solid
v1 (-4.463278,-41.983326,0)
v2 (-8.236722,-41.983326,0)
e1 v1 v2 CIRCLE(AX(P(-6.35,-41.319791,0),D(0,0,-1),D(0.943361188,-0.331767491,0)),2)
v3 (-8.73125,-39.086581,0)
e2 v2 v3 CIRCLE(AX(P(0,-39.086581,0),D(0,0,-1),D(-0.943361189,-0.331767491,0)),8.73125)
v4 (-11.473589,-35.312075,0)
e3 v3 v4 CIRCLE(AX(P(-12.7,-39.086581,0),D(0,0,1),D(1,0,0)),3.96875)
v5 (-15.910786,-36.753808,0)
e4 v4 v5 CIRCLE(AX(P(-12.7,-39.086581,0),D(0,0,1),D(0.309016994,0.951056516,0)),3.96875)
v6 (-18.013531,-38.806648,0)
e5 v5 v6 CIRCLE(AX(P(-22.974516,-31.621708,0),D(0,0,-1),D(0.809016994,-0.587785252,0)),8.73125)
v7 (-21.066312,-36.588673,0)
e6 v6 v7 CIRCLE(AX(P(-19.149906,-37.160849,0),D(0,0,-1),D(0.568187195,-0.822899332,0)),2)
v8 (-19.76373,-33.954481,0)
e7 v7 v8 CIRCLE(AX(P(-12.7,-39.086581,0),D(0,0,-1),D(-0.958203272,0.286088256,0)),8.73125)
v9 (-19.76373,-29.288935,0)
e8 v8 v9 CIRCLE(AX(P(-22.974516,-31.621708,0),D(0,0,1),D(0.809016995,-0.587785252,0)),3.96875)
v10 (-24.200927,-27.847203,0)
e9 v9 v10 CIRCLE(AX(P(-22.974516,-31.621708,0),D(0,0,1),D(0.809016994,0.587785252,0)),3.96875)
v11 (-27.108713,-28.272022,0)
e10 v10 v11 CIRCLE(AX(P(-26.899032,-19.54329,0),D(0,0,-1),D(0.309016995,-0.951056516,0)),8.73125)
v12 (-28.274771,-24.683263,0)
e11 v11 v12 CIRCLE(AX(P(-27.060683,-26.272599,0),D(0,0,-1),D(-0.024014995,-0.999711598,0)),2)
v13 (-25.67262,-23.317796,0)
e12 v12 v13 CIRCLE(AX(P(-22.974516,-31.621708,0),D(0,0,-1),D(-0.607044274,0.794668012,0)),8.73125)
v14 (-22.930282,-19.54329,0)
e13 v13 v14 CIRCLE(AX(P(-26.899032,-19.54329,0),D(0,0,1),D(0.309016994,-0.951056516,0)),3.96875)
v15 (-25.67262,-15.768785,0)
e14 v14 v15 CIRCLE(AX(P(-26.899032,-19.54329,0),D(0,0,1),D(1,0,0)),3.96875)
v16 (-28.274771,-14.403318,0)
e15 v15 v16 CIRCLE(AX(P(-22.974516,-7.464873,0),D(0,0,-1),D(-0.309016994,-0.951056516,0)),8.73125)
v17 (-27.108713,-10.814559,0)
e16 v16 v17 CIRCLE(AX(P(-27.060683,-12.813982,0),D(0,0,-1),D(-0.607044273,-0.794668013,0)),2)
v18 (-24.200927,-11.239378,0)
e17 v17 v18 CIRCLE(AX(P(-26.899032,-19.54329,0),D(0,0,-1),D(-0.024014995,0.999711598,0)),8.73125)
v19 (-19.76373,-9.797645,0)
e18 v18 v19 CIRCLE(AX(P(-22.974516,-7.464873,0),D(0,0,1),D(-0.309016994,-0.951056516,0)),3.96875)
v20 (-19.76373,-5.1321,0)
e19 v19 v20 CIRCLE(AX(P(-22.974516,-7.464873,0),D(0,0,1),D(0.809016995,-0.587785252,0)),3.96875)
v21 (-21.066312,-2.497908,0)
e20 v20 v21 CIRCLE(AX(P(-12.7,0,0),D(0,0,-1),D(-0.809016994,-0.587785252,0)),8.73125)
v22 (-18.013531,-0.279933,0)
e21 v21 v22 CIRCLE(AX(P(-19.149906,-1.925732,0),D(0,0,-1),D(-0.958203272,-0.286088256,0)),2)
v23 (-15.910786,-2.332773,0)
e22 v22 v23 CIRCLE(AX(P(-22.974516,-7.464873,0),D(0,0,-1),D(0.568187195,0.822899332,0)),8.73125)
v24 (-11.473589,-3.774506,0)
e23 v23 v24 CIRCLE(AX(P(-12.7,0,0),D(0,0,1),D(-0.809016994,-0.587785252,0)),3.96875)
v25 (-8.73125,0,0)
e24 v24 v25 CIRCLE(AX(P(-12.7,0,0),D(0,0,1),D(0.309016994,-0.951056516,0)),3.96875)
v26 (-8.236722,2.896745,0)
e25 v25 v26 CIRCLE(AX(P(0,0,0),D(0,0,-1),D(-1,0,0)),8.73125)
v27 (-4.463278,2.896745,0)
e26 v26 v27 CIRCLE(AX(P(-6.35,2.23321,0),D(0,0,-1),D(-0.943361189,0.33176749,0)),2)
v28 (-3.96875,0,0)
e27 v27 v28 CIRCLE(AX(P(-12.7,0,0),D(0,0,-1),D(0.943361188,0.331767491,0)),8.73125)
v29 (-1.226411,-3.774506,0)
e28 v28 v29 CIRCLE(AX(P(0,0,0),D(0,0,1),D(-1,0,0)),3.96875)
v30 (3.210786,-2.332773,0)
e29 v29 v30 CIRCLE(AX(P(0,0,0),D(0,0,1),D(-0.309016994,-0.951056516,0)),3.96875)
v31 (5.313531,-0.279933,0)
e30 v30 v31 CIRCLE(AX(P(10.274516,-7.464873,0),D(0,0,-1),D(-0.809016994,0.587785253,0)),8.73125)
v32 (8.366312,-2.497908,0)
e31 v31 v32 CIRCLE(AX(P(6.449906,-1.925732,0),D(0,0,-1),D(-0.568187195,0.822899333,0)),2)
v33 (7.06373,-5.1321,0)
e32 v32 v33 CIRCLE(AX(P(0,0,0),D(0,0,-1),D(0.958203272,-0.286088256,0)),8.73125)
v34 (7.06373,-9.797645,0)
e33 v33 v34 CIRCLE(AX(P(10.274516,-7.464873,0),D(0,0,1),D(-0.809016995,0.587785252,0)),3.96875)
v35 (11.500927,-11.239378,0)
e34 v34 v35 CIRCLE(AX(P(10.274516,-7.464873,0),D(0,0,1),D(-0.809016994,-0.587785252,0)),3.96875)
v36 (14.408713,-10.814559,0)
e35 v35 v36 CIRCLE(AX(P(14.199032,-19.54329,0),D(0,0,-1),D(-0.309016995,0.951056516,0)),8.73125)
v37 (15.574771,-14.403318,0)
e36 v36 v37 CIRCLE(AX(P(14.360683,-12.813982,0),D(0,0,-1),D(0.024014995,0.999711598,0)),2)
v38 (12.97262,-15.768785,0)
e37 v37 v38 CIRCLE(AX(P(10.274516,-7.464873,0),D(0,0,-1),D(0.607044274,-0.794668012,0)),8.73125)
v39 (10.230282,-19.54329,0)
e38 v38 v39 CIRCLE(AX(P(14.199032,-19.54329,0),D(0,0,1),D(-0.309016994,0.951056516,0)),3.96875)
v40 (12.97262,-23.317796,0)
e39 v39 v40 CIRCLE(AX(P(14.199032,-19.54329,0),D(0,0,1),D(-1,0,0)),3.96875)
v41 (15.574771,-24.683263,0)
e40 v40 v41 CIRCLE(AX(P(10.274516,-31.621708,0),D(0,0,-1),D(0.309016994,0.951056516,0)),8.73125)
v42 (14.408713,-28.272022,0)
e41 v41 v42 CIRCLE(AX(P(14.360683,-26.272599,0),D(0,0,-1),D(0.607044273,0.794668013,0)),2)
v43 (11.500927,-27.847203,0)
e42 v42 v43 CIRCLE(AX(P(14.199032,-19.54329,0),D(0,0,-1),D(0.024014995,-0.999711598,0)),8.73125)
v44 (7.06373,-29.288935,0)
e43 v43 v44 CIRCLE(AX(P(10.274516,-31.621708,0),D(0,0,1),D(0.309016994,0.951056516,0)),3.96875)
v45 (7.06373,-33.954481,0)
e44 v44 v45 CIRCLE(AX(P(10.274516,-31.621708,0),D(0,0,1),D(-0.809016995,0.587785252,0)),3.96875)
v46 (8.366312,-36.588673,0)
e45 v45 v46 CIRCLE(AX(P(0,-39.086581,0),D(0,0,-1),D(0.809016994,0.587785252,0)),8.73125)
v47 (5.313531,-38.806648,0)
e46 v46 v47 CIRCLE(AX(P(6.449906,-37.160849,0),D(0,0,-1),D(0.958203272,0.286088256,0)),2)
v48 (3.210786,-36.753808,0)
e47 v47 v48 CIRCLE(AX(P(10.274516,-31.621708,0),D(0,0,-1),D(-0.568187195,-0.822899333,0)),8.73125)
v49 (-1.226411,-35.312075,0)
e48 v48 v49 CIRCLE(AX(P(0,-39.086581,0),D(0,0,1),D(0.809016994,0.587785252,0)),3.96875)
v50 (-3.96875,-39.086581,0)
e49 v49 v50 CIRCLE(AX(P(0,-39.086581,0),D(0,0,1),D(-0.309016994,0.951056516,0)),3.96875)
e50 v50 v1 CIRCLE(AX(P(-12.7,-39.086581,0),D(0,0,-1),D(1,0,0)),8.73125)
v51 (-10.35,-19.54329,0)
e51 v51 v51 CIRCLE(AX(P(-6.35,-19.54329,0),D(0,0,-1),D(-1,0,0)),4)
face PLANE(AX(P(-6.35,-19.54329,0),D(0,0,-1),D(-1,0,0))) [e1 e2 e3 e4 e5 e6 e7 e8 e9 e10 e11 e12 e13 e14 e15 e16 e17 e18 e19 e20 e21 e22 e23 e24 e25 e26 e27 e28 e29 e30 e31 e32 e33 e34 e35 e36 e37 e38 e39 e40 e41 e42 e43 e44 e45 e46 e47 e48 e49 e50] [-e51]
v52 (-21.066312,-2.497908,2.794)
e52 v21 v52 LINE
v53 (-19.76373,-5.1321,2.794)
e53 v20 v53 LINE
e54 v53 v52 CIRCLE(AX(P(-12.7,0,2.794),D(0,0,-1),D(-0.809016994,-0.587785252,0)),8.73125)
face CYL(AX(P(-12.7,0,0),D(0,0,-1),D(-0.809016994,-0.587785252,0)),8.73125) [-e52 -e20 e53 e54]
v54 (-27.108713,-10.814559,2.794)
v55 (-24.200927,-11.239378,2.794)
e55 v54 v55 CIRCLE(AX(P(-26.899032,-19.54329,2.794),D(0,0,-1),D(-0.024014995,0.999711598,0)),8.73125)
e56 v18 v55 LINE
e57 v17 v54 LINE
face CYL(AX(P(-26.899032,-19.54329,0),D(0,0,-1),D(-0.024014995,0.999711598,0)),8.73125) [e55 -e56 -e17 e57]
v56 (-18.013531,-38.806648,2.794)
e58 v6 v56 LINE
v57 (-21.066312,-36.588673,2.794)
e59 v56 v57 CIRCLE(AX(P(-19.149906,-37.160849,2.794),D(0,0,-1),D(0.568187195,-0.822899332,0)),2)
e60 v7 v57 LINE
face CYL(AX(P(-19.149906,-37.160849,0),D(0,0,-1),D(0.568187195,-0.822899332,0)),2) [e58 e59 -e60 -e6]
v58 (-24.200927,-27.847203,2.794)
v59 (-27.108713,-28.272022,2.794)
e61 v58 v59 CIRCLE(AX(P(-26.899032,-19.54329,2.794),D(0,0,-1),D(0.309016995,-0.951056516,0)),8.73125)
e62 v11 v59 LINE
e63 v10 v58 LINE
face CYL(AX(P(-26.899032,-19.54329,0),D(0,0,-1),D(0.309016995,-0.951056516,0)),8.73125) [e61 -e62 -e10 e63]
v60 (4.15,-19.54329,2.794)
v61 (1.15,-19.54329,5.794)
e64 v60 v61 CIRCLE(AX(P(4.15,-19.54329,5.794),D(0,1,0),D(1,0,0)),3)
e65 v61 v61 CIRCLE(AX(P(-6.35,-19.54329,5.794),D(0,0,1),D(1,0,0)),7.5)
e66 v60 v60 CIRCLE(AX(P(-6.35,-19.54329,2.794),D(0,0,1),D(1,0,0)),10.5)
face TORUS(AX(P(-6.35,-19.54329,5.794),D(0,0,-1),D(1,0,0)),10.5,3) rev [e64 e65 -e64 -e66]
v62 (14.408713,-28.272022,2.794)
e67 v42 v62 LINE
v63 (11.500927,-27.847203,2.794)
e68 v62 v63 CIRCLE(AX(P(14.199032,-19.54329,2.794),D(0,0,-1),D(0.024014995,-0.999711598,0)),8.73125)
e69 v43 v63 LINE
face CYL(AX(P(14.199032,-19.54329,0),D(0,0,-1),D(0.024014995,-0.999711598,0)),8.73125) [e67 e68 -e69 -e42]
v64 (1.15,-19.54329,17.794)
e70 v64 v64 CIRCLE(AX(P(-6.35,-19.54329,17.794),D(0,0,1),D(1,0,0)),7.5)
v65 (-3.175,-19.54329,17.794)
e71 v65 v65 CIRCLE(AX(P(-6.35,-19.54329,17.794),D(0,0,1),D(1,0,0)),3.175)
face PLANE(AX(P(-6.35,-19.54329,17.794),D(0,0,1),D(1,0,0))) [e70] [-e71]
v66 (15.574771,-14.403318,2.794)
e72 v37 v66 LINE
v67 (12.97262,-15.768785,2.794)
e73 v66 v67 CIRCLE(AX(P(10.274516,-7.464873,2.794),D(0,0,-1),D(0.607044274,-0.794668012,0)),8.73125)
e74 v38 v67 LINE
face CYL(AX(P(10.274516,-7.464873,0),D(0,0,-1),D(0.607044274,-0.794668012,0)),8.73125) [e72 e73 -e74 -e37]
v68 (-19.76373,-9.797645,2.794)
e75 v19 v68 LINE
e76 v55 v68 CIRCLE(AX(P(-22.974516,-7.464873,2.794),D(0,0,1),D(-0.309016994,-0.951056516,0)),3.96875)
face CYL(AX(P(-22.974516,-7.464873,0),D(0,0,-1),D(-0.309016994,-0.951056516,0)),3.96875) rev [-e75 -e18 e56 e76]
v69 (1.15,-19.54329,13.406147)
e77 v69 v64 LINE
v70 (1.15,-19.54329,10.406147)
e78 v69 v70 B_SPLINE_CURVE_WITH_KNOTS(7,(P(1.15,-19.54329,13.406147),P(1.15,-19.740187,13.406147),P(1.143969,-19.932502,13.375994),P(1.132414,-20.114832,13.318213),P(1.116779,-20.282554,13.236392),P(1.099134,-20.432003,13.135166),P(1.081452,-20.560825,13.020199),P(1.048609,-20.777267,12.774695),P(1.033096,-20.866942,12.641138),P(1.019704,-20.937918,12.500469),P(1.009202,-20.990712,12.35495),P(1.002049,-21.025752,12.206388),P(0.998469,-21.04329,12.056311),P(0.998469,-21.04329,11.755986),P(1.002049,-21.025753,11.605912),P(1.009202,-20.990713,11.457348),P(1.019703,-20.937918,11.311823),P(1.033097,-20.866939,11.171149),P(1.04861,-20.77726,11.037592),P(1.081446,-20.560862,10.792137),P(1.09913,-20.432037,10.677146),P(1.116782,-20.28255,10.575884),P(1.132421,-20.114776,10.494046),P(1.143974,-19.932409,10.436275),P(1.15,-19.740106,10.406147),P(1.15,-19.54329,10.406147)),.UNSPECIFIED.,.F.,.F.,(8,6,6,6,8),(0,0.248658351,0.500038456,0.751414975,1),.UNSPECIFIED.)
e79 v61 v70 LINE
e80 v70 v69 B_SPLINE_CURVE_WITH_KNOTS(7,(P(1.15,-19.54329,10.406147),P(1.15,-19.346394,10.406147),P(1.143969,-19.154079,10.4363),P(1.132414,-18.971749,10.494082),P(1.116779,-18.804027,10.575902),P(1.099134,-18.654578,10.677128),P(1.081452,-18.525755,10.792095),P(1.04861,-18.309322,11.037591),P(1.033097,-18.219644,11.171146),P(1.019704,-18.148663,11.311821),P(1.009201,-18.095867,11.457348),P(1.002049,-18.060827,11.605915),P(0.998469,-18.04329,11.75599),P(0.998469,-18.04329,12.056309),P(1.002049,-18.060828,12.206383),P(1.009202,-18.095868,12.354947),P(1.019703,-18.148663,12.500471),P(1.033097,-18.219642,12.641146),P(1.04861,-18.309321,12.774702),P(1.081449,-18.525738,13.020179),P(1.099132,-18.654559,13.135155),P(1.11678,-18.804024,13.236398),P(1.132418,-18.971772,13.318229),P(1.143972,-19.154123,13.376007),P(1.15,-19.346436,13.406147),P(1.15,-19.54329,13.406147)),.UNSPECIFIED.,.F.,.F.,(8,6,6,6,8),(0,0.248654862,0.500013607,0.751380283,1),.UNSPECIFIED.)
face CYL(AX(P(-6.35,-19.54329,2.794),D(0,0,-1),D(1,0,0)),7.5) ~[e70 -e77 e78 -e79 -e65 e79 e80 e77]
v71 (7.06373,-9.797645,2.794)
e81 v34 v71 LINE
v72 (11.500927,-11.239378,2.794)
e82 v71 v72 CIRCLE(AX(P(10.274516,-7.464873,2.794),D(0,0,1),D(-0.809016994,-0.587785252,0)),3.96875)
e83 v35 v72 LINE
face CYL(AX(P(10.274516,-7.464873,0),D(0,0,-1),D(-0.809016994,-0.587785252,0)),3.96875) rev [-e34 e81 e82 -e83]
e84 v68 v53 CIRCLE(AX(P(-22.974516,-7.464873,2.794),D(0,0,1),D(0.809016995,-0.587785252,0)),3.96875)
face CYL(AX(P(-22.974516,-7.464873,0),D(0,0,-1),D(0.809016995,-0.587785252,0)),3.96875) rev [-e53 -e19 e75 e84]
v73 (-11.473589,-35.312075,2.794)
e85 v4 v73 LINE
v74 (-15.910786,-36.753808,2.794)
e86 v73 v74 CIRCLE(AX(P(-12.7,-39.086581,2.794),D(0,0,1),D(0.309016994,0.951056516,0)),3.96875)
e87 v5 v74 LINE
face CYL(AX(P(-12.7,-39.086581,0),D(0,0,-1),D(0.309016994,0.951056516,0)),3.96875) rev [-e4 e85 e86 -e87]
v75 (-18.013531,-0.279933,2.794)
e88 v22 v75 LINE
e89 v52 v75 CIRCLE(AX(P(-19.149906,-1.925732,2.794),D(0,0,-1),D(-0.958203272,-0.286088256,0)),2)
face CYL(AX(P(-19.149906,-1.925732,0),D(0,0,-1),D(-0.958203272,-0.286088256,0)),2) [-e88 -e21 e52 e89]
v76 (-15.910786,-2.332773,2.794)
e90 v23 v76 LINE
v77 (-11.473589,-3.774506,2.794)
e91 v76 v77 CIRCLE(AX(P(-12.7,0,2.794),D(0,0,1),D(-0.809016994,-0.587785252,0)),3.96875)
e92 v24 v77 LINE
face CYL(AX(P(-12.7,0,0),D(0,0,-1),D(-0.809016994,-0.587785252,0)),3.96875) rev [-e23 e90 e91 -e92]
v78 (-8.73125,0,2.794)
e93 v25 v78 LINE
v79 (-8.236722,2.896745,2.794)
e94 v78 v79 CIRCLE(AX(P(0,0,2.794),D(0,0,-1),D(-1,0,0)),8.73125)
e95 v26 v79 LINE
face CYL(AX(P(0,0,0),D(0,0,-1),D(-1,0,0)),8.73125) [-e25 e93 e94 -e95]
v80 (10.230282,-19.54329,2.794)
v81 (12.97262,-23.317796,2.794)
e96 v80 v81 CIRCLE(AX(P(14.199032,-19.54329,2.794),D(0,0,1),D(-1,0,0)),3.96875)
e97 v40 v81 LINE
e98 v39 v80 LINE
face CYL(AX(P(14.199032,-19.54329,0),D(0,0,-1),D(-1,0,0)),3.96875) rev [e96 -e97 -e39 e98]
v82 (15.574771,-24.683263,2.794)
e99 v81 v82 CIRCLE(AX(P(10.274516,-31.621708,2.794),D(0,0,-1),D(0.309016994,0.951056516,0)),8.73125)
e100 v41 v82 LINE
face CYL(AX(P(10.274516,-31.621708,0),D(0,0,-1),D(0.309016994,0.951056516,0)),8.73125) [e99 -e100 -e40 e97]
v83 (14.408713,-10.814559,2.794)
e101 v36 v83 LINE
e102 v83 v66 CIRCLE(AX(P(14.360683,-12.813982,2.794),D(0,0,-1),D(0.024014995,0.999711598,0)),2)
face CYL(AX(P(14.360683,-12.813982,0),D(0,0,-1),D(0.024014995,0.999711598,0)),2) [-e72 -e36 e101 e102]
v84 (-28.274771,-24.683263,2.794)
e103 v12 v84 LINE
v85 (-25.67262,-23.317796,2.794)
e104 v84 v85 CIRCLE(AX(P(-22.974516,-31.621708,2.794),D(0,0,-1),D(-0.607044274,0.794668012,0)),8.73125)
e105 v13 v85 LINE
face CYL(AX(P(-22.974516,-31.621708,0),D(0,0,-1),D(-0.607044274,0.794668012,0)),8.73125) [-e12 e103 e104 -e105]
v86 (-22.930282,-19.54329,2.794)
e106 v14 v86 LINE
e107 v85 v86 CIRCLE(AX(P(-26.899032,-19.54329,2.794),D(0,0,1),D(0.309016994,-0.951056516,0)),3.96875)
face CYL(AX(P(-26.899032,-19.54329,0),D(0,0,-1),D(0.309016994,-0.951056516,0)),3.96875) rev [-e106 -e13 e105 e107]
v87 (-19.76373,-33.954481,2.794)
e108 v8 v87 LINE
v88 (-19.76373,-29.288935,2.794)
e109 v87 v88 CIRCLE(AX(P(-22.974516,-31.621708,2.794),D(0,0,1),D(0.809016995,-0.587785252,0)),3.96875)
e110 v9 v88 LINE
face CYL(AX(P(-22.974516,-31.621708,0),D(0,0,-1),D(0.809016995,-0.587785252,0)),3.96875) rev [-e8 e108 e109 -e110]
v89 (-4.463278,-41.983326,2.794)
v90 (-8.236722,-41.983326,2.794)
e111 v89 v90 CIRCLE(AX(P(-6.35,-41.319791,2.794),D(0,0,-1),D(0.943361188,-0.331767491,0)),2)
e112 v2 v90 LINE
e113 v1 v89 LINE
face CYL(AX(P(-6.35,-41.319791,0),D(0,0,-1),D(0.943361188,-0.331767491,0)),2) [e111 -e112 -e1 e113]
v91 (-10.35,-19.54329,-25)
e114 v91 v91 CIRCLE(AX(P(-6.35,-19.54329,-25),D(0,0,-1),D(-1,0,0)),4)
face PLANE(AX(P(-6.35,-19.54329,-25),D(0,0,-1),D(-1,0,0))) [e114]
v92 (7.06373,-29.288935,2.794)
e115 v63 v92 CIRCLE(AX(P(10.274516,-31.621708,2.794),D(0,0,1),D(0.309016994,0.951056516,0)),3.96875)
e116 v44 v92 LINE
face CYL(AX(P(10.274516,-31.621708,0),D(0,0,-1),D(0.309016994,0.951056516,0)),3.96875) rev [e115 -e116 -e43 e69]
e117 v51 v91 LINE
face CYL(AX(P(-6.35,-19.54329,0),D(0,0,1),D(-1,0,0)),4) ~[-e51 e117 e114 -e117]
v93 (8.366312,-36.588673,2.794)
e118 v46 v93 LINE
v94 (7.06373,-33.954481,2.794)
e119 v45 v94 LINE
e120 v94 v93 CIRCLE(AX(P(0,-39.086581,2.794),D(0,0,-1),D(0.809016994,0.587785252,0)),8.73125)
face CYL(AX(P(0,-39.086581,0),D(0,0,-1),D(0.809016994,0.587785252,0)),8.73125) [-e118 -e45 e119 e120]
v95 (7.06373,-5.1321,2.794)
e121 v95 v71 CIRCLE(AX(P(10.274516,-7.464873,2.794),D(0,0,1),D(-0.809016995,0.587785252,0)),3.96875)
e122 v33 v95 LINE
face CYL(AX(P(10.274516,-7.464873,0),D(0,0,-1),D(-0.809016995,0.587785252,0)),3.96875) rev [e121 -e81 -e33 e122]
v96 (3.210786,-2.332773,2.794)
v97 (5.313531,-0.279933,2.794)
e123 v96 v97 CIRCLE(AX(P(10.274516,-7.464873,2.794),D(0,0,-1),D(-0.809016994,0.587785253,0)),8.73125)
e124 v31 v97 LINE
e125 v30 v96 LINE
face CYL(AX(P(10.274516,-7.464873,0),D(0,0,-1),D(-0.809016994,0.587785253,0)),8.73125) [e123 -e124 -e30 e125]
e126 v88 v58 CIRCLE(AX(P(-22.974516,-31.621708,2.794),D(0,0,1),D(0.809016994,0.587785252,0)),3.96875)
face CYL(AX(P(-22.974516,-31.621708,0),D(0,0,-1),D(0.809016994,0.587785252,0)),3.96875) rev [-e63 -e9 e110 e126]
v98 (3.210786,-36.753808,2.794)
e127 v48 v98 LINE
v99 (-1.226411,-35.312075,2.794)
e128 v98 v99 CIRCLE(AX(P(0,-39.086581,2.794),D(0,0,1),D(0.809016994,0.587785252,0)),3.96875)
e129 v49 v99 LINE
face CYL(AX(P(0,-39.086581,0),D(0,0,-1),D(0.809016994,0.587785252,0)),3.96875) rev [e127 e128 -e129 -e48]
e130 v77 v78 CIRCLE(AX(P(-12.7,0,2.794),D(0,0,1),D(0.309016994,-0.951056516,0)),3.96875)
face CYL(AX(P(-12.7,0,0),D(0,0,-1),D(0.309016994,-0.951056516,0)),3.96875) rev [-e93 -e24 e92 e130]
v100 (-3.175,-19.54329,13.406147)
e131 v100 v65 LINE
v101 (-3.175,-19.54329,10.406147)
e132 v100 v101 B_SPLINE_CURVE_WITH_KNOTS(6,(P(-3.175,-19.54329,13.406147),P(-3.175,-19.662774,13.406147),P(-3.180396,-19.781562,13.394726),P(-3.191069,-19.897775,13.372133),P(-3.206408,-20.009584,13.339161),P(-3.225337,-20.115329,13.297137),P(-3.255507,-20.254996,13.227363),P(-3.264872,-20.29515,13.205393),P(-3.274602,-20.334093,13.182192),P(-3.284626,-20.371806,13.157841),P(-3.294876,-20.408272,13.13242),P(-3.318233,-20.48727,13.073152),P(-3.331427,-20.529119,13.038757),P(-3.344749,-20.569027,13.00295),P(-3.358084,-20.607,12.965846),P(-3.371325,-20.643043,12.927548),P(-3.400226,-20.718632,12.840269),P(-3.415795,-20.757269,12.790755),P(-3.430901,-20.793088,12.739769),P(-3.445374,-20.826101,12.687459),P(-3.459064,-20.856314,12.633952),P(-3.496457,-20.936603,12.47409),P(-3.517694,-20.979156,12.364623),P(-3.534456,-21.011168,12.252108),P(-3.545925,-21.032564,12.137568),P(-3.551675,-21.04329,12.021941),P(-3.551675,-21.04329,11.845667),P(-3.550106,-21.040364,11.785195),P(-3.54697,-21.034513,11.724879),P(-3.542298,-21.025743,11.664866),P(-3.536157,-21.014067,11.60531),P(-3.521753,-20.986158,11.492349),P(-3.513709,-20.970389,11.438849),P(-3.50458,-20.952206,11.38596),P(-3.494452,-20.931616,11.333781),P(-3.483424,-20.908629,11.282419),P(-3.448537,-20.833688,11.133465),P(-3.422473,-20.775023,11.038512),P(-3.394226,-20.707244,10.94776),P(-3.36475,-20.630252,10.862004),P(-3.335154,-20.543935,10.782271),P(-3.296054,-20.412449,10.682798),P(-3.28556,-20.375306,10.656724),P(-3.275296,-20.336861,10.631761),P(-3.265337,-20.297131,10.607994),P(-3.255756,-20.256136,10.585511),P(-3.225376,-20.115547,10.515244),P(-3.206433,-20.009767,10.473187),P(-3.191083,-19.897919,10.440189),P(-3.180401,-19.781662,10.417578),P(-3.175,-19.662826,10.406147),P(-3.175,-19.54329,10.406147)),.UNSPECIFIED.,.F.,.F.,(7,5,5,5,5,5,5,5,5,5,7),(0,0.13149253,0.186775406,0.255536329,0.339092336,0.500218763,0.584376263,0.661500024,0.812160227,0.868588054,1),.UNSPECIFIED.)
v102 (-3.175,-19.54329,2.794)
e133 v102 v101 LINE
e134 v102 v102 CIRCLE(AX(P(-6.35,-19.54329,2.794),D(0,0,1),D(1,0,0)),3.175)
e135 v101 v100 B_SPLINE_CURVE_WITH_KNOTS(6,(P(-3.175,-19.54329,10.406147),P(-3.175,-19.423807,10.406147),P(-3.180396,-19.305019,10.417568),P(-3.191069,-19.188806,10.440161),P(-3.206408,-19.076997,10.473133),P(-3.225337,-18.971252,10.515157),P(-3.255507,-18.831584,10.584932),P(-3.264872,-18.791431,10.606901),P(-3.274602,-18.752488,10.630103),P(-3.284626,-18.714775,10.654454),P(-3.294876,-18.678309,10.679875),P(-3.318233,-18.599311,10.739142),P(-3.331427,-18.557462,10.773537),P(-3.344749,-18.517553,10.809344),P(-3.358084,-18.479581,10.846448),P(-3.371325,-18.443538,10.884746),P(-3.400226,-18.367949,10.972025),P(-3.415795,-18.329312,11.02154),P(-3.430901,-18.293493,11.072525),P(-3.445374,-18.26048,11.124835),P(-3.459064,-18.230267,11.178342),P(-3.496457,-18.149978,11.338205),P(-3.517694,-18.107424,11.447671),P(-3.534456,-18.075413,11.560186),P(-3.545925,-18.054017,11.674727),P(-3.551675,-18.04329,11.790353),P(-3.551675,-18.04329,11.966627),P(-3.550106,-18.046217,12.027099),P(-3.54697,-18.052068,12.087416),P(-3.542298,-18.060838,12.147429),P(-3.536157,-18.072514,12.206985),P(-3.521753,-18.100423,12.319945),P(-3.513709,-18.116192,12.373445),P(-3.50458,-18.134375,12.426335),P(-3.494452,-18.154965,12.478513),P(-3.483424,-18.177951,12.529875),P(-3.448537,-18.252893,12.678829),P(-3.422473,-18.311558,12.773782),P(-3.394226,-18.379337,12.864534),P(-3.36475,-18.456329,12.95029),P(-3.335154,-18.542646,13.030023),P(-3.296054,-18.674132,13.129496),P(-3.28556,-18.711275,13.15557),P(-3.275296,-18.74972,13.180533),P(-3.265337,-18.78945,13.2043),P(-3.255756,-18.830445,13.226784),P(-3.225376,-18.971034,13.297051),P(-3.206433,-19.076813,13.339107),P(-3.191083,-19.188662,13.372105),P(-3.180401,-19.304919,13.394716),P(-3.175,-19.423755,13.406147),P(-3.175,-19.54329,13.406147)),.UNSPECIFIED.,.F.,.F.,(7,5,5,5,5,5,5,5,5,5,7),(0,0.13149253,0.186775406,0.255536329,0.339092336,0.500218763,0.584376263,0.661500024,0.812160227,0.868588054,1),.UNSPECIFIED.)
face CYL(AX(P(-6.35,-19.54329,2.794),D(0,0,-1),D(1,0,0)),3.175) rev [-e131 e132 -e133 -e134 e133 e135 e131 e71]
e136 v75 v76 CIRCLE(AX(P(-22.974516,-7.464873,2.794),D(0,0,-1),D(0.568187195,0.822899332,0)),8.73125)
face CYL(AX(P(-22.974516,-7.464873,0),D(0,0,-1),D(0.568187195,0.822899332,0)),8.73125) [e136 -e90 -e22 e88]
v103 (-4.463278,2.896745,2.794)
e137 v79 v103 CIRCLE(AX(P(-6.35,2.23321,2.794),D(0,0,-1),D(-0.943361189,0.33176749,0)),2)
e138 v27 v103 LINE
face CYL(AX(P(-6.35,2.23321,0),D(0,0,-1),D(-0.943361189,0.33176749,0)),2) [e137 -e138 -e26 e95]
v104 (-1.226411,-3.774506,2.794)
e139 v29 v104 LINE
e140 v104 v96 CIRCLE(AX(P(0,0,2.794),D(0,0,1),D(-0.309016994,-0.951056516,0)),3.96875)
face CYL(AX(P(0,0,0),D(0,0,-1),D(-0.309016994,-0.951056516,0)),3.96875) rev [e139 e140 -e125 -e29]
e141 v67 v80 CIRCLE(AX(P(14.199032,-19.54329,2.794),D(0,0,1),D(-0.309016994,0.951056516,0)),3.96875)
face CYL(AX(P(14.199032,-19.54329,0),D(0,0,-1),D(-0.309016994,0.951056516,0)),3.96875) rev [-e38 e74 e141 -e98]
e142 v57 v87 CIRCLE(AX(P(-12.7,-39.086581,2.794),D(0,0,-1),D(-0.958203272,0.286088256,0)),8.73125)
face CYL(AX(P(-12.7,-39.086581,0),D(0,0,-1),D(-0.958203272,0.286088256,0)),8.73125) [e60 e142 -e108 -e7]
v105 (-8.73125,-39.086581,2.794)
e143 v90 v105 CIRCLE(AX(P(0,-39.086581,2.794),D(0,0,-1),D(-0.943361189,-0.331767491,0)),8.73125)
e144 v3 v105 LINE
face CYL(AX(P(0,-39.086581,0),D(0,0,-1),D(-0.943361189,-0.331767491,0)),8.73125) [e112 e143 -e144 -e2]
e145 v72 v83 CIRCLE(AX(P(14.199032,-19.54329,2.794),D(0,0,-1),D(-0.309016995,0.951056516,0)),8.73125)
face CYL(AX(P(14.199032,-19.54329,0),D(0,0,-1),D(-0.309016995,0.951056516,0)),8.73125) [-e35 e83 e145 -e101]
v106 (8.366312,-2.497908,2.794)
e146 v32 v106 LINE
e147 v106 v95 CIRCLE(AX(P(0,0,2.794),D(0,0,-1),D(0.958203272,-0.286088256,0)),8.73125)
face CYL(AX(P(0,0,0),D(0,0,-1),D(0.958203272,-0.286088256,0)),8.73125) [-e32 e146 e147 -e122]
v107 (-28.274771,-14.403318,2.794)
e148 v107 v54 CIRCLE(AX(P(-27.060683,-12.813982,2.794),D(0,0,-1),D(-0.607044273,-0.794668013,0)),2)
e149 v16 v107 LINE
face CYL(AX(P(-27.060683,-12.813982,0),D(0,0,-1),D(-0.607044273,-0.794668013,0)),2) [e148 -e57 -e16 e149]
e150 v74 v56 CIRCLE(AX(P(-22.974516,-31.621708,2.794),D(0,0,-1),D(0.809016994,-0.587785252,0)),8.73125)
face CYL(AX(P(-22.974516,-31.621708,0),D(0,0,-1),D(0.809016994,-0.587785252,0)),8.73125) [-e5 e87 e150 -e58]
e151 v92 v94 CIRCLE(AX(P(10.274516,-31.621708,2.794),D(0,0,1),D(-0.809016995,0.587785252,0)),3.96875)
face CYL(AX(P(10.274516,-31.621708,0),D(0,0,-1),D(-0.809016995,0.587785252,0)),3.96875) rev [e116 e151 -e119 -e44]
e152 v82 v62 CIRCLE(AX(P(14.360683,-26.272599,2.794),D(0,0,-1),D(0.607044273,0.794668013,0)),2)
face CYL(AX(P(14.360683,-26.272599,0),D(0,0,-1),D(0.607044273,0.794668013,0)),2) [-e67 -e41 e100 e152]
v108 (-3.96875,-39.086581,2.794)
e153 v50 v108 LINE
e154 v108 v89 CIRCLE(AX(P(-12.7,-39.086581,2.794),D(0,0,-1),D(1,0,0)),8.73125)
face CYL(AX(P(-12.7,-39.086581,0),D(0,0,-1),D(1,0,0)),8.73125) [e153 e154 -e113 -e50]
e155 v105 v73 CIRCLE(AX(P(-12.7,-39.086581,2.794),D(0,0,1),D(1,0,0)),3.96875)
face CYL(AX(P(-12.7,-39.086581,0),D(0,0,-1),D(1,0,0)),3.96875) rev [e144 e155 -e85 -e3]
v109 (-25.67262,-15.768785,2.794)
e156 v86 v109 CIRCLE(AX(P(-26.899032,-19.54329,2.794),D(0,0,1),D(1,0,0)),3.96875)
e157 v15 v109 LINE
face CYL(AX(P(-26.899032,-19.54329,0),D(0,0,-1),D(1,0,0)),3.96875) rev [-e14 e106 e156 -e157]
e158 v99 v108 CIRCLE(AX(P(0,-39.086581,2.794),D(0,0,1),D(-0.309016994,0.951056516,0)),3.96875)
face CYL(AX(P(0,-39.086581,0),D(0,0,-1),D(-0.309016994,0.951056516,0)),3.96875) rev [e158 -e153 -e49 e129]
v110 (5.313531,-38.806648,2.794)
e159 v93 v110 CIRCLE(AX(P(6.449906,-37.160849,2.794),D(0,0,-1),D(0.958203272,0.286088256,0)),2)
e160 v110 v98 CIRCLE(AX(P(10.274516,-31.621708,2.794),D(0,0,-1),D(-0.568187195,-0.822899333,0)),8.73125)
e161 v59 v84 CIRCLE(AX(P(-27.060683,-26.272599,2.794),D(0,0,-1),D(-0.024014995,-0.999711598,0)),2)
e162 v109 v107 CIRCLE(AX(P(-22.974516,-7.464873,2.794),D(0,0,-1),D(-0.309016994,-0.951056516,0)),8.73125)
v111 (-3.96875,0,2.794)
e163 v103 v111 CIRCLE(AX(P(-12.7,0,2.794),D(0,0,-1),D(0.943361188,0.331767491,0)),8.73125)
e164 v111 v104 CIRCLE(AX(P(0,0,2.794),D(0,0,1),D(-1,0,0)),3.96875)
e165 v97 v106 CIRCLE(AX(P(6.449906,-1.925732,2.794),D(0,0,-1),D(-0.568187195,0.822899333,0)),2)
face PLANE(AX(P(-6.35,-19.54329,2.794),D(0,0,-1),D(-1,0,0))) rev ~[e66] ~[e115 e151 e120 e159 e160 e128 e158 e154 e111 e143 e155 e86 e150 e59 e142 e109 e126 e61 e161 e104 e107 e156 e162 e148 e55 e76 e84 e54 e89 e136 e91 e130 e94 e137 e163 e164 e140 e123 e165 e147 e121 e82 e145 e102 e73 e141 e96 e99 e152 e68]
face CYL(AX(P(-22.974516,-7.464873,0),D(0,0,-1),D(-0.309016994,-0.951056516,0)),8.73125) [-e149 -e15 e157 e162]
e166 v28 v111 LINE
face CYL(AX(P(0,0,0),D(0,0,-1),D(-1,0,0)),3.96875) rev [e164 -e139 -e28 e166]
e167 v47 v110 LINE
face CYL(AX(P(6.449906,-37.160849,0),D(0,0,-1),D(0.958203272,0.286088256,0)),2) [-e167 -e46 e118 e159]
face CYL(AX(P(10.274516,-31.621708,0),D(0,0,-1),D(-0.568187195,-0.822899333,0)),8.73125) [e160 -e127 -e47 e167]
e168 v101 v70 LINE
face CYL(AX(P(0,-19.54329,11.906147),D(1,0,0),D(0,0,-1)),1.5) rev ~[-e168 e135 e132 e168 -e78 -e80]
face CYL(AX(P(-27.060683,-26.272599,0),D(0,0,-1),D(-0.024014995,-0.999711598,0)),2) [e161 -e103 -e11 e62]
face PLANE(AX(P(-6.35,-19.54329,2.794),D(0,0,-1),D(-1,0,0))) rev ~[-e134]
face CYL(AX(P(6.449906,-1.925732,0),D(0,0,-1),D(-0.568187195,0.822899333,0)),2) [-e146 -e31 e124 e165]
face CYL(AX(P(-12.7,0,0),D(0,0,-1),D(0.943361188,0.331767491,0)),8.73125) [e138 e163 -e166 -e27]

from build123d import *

# Parameters (mm, degrees)
BOSS_EXTRUDE1_DEPTH = 2.794
SKETCH3_R           = 7.5
SKETCH3_R_2         = 3.175
BOSS_EXTRUDE2_DEPTH = 15
FILLET1_R           = 3
SKETCH4_R           = 1.5
CUT_EXTRUDE1_DEPTH  = 7.5
SKETCH5_R           = 4
BOSS_EXTRUDE3_DEPTH = 25


with BuildPart() as part:
    # Sketch2 → Boss-Extrude1 (new body)
    with BuildSketch(Plane.XY):
        with BuildLine():
            ThreePointArc((-8.73125, 0), (-8.606730181, 1.469327109), (-8.236722377, 2.896744905))
            ThreePointArc((-8.236722377, 2.896744905), (-6.35, 4.233209924), (-4.463277623, 2.896744905))
            ThreePointArc((-4.463277623, 2.896744905), (-4.093269819, 1.469327109), (-3.96875, 0))
            ThreePointArc((-3.96875, 0), (-3.210786196, -2.33277272), (-1.226411196, -3.774505549))
            ThreePointArc((-1.226411196, -3.774505549), (1.226411196, -3.774505549), (3.210786196, -2.33277272))
            ThreePointArc((3.210786196, -2.33277272), (4.175173652, -1.217253032), (5.313531383, -0.279932907))
            ThreePointArc((5.313531383, -0.279932907), (7.625476277, -0.307697583), (8.366312316, -2.497908084))
            ThreePointArc((8.366312316, -2.497908084), (7.826639788, -3.870198469), (7.063729632, -5.132099984))
            ThreePointArc((7.063729632, -5.132099984), (6.305765829, -7.464872704), (7.063729632, -9.797645424))
            ThreePointArc((7.063729632, -9.797645424), (9.048104632, -11.239378253), (11.500927025, -11.239378253))
            ThreePointArc((11.500927025, -11.239378253), (12.936818887, -10.903756591), (14.408712583, -10.814558567))
            ThreePointArc((14.408712583, -10.814558567), (16.262795625, -12.195947775), (15.574771139, -14.403317789))
            ThreePointArc((15.574771139, -14.403317789), (14.331554842, -15.19631248), (12.972620461, -15.768784912))
            ThreePointArc((12.972620461, -15.768784912), (10.988245461, -17.210517741), (10.230281657, -19.543290461))
            ThreePointArc((10.230281657, -19.543290461), (10.988245461, -21.876063181), (12.972620461, -23.31779601))
            ThreePointArc((12.972620461, -23.31779601), (14.331554842, -23.890268442), (15.574771139, -24.683263133))
            ThreePointArc((15.574771139, -24.683263133), (16.262795625, -26.890633147), (14.408712583, -28.272022355))
            ThreePointArc((14.408712583, -28.272022355), (12.936818887, -28.182824331), (11.500927025, -27.847202669))
            ThreePointArc((11.500927025, -27.847202669), (9.048104632, -27.847202669), (7.063729632, -29.288935498))
            ThreePointArc((7.063729632, -29.288935498), (6.305765829, -31.621708218), (7.063729632, -33.954480938))
            ThreePointArc((7.063729632, -33.954480938), (7.826639788, -35.216382453), (8.366312316, -36.588672839))
            ThreePointArc((8.366312316, -36.588672839), (7.625476277, -38.778883339), (5.313531383, -38.806648015))
            ThreePointArc((5.313531383, -38.806648015), (4.175173652, -37.869327891), (3.210786196, -36.753808202))
            ThreePointArc((3.210786196, -36.753808202), (1.226411196, -35.312075373), (-1.226411196, -35.312075373))
            ThreePointArc((-1.226411196, -35.312075373), (-3.210786196, -36.753808202), (-3.96875, -39.086580922))
            ThreePointArc((-3.96875, -39.086580922), (-4.093269819, -40.555908031), (-4.463277623, -41.983325828))
            ThreePointArc((-4.463277623, -41.983325828), (-6.35, -43.319790846), (-8.236722377, -41.983325828))
            ThreePointArc((-8.236722377, -41.983325828), (-8.606730181, -40.555908031), (-8.73125, -39.086580922))
            ThreePointArc((-8.73125, -39.086580922), (-9.489213804, -36.753808202), (-11.473588804, -35.312075373))
            ThreePointArc((-11.473588804, -35.312075373), (-13.926411196, -35.312075373), (-15.910786196, -36.753808202))
            ThreePointArc((-15.910786196, -36.753808202), (-16.875173652, -37.869327891), (-18.013531383, -38.806648015))
            ThreePointArc((-18.013531383, -38.806648015), (-20.325476277, -38.778883339), (-21.066312316, -36.588672839))
            ThreePointArc((-21.066312316, -36.588672839), (-20.526639788, -35.216382453), (-19.763729632, -33.954480938))
            ThreePointArc((-19.763729632, -33.954480938), (-19.005765829, -31.621708218), (-19.763729632, -29.288935498))
            ThreePointArc((-19.763729632, -29.288935498), (-21.748104632, -27.847202669), (-24.200927025, -27.847202669))
            ThreePointArc((-24.200927025, -27.847202669), (-25.636818887, -28.182824331), (-27.108712583, -28.272022355))
            ThreePointArc((-27.108712583, -28.272022355), (-28.962795625, -26.890633147), (-28.274771139, -24.683263133))
            ThreePointArc((-28.274771139, -24.683263133), (-27.031554842, -23.890268442), (-25.672620461, -23.31779601))
            ThreePointArc((-25.672620461, -23.31779601), (-23.688245461, -21.876063181), (-22.930281657, -19.543290461))
            ThreePointArc((-22.930281657, -19.543290461), (-23.688245461, -17.210517741), (-25.672620461, -15.768784912))
            ThreePointArc((-25.672620461, -15.768784912), (-27.031554842, -15.19631248), (-28.274771139, -14.403317789))
            ThreePointArc((-28.274771139, -14.403317789), (-28.962795625, -12.195947775), (-27.108712583, -10.814558567))
            ThreePointArc((-27.108712583, -10.814558567), (-25.636818887, -10.903756591), (-24.200927025, -11.239378253))
            ThreePointArc((-24.200927025, -11.239378253), (-21.748104632, -11.239378253), (-19.763729632, -9.797645424))
            ThreePointArc((-19.763729632, -9.797645424), (-19.005765829, -7.464872704), (-19.763729632, -5.132099984))
            ThreePointArc((-19.763729632, -5.132099984), (-20.526639788, -3.870198469), (-21.066312316, -2.497908084))
            ThreePointArc((-21.066312316, -2.497908084), (-20.325476277, -0.307697583), (-18.013531383, -0.279932907))
            ThreePointArc((-18.013531383, -0.279932907), (-16.875173652, -1.217253032), (-15.910786196, -2.33277272))
            ThreePointArc((-15.910786196, -2.33277272), (-13.926411196, -3.774505549), (-11.473588804, -3.774505549))
            ThreePointArc((-11.473588804, -3.774505549), (-9.489213804, -2.33277272), (-8.73125, 0))
        make_face()
    extrude(amount=BOSS_EXTRUDE1_DEPTH)

    # Sketch3 → Boss-Extrude2 (add)
    with BuildSketch(Plane.XY.offset(2.794)):
        with Locations((-6.35, -19.543290461)):
            Circle(SKETCH3_R)
        with Locations((-6.35, -19.543290461)):
            Circle(SKETCH3_R_2, mode=Mode.SUBTRACT)
    extrude(amount=BOSS_EXTRUDE2_DEPTH)

    # Fillet1
    fillet1_edges = [part.edges().sort_by_distance(p)[0] for p in [
        (-13.85, -19.543290461, 2.794),
    ]]
    fillet(fillet1_edges, radius=FILLET1_R)

    # Sketch4 → Cut-Extrude1 (cut, symmetric)
    with BuildSketch(Plane(origin=(0, 0, 0), x_dir=(0, 0, -1), z_dir=(1, 0, 0))):
        with Locations((-11.906147171, -19.543290461)):
            Circle(SKETCH4_R)
    extrude(amount=CUT_EXTRUDE1_DEPTH, both=True, mode=Mode.SUBTRACT)

    # Sketch5 → Boss-Extrude3 (add)
    with BuildSketch(Plane(origin=(0, 0, 0), x_dir=(-1, 0, 0), z_dir=(0, 0, -1))):
        with Locations((6.35, -19.543290461)):
            Circle(SKETCH5_R)
    extrude(amount=BOSS_EXTRUDE3_DEPTH)


solid = part.part
